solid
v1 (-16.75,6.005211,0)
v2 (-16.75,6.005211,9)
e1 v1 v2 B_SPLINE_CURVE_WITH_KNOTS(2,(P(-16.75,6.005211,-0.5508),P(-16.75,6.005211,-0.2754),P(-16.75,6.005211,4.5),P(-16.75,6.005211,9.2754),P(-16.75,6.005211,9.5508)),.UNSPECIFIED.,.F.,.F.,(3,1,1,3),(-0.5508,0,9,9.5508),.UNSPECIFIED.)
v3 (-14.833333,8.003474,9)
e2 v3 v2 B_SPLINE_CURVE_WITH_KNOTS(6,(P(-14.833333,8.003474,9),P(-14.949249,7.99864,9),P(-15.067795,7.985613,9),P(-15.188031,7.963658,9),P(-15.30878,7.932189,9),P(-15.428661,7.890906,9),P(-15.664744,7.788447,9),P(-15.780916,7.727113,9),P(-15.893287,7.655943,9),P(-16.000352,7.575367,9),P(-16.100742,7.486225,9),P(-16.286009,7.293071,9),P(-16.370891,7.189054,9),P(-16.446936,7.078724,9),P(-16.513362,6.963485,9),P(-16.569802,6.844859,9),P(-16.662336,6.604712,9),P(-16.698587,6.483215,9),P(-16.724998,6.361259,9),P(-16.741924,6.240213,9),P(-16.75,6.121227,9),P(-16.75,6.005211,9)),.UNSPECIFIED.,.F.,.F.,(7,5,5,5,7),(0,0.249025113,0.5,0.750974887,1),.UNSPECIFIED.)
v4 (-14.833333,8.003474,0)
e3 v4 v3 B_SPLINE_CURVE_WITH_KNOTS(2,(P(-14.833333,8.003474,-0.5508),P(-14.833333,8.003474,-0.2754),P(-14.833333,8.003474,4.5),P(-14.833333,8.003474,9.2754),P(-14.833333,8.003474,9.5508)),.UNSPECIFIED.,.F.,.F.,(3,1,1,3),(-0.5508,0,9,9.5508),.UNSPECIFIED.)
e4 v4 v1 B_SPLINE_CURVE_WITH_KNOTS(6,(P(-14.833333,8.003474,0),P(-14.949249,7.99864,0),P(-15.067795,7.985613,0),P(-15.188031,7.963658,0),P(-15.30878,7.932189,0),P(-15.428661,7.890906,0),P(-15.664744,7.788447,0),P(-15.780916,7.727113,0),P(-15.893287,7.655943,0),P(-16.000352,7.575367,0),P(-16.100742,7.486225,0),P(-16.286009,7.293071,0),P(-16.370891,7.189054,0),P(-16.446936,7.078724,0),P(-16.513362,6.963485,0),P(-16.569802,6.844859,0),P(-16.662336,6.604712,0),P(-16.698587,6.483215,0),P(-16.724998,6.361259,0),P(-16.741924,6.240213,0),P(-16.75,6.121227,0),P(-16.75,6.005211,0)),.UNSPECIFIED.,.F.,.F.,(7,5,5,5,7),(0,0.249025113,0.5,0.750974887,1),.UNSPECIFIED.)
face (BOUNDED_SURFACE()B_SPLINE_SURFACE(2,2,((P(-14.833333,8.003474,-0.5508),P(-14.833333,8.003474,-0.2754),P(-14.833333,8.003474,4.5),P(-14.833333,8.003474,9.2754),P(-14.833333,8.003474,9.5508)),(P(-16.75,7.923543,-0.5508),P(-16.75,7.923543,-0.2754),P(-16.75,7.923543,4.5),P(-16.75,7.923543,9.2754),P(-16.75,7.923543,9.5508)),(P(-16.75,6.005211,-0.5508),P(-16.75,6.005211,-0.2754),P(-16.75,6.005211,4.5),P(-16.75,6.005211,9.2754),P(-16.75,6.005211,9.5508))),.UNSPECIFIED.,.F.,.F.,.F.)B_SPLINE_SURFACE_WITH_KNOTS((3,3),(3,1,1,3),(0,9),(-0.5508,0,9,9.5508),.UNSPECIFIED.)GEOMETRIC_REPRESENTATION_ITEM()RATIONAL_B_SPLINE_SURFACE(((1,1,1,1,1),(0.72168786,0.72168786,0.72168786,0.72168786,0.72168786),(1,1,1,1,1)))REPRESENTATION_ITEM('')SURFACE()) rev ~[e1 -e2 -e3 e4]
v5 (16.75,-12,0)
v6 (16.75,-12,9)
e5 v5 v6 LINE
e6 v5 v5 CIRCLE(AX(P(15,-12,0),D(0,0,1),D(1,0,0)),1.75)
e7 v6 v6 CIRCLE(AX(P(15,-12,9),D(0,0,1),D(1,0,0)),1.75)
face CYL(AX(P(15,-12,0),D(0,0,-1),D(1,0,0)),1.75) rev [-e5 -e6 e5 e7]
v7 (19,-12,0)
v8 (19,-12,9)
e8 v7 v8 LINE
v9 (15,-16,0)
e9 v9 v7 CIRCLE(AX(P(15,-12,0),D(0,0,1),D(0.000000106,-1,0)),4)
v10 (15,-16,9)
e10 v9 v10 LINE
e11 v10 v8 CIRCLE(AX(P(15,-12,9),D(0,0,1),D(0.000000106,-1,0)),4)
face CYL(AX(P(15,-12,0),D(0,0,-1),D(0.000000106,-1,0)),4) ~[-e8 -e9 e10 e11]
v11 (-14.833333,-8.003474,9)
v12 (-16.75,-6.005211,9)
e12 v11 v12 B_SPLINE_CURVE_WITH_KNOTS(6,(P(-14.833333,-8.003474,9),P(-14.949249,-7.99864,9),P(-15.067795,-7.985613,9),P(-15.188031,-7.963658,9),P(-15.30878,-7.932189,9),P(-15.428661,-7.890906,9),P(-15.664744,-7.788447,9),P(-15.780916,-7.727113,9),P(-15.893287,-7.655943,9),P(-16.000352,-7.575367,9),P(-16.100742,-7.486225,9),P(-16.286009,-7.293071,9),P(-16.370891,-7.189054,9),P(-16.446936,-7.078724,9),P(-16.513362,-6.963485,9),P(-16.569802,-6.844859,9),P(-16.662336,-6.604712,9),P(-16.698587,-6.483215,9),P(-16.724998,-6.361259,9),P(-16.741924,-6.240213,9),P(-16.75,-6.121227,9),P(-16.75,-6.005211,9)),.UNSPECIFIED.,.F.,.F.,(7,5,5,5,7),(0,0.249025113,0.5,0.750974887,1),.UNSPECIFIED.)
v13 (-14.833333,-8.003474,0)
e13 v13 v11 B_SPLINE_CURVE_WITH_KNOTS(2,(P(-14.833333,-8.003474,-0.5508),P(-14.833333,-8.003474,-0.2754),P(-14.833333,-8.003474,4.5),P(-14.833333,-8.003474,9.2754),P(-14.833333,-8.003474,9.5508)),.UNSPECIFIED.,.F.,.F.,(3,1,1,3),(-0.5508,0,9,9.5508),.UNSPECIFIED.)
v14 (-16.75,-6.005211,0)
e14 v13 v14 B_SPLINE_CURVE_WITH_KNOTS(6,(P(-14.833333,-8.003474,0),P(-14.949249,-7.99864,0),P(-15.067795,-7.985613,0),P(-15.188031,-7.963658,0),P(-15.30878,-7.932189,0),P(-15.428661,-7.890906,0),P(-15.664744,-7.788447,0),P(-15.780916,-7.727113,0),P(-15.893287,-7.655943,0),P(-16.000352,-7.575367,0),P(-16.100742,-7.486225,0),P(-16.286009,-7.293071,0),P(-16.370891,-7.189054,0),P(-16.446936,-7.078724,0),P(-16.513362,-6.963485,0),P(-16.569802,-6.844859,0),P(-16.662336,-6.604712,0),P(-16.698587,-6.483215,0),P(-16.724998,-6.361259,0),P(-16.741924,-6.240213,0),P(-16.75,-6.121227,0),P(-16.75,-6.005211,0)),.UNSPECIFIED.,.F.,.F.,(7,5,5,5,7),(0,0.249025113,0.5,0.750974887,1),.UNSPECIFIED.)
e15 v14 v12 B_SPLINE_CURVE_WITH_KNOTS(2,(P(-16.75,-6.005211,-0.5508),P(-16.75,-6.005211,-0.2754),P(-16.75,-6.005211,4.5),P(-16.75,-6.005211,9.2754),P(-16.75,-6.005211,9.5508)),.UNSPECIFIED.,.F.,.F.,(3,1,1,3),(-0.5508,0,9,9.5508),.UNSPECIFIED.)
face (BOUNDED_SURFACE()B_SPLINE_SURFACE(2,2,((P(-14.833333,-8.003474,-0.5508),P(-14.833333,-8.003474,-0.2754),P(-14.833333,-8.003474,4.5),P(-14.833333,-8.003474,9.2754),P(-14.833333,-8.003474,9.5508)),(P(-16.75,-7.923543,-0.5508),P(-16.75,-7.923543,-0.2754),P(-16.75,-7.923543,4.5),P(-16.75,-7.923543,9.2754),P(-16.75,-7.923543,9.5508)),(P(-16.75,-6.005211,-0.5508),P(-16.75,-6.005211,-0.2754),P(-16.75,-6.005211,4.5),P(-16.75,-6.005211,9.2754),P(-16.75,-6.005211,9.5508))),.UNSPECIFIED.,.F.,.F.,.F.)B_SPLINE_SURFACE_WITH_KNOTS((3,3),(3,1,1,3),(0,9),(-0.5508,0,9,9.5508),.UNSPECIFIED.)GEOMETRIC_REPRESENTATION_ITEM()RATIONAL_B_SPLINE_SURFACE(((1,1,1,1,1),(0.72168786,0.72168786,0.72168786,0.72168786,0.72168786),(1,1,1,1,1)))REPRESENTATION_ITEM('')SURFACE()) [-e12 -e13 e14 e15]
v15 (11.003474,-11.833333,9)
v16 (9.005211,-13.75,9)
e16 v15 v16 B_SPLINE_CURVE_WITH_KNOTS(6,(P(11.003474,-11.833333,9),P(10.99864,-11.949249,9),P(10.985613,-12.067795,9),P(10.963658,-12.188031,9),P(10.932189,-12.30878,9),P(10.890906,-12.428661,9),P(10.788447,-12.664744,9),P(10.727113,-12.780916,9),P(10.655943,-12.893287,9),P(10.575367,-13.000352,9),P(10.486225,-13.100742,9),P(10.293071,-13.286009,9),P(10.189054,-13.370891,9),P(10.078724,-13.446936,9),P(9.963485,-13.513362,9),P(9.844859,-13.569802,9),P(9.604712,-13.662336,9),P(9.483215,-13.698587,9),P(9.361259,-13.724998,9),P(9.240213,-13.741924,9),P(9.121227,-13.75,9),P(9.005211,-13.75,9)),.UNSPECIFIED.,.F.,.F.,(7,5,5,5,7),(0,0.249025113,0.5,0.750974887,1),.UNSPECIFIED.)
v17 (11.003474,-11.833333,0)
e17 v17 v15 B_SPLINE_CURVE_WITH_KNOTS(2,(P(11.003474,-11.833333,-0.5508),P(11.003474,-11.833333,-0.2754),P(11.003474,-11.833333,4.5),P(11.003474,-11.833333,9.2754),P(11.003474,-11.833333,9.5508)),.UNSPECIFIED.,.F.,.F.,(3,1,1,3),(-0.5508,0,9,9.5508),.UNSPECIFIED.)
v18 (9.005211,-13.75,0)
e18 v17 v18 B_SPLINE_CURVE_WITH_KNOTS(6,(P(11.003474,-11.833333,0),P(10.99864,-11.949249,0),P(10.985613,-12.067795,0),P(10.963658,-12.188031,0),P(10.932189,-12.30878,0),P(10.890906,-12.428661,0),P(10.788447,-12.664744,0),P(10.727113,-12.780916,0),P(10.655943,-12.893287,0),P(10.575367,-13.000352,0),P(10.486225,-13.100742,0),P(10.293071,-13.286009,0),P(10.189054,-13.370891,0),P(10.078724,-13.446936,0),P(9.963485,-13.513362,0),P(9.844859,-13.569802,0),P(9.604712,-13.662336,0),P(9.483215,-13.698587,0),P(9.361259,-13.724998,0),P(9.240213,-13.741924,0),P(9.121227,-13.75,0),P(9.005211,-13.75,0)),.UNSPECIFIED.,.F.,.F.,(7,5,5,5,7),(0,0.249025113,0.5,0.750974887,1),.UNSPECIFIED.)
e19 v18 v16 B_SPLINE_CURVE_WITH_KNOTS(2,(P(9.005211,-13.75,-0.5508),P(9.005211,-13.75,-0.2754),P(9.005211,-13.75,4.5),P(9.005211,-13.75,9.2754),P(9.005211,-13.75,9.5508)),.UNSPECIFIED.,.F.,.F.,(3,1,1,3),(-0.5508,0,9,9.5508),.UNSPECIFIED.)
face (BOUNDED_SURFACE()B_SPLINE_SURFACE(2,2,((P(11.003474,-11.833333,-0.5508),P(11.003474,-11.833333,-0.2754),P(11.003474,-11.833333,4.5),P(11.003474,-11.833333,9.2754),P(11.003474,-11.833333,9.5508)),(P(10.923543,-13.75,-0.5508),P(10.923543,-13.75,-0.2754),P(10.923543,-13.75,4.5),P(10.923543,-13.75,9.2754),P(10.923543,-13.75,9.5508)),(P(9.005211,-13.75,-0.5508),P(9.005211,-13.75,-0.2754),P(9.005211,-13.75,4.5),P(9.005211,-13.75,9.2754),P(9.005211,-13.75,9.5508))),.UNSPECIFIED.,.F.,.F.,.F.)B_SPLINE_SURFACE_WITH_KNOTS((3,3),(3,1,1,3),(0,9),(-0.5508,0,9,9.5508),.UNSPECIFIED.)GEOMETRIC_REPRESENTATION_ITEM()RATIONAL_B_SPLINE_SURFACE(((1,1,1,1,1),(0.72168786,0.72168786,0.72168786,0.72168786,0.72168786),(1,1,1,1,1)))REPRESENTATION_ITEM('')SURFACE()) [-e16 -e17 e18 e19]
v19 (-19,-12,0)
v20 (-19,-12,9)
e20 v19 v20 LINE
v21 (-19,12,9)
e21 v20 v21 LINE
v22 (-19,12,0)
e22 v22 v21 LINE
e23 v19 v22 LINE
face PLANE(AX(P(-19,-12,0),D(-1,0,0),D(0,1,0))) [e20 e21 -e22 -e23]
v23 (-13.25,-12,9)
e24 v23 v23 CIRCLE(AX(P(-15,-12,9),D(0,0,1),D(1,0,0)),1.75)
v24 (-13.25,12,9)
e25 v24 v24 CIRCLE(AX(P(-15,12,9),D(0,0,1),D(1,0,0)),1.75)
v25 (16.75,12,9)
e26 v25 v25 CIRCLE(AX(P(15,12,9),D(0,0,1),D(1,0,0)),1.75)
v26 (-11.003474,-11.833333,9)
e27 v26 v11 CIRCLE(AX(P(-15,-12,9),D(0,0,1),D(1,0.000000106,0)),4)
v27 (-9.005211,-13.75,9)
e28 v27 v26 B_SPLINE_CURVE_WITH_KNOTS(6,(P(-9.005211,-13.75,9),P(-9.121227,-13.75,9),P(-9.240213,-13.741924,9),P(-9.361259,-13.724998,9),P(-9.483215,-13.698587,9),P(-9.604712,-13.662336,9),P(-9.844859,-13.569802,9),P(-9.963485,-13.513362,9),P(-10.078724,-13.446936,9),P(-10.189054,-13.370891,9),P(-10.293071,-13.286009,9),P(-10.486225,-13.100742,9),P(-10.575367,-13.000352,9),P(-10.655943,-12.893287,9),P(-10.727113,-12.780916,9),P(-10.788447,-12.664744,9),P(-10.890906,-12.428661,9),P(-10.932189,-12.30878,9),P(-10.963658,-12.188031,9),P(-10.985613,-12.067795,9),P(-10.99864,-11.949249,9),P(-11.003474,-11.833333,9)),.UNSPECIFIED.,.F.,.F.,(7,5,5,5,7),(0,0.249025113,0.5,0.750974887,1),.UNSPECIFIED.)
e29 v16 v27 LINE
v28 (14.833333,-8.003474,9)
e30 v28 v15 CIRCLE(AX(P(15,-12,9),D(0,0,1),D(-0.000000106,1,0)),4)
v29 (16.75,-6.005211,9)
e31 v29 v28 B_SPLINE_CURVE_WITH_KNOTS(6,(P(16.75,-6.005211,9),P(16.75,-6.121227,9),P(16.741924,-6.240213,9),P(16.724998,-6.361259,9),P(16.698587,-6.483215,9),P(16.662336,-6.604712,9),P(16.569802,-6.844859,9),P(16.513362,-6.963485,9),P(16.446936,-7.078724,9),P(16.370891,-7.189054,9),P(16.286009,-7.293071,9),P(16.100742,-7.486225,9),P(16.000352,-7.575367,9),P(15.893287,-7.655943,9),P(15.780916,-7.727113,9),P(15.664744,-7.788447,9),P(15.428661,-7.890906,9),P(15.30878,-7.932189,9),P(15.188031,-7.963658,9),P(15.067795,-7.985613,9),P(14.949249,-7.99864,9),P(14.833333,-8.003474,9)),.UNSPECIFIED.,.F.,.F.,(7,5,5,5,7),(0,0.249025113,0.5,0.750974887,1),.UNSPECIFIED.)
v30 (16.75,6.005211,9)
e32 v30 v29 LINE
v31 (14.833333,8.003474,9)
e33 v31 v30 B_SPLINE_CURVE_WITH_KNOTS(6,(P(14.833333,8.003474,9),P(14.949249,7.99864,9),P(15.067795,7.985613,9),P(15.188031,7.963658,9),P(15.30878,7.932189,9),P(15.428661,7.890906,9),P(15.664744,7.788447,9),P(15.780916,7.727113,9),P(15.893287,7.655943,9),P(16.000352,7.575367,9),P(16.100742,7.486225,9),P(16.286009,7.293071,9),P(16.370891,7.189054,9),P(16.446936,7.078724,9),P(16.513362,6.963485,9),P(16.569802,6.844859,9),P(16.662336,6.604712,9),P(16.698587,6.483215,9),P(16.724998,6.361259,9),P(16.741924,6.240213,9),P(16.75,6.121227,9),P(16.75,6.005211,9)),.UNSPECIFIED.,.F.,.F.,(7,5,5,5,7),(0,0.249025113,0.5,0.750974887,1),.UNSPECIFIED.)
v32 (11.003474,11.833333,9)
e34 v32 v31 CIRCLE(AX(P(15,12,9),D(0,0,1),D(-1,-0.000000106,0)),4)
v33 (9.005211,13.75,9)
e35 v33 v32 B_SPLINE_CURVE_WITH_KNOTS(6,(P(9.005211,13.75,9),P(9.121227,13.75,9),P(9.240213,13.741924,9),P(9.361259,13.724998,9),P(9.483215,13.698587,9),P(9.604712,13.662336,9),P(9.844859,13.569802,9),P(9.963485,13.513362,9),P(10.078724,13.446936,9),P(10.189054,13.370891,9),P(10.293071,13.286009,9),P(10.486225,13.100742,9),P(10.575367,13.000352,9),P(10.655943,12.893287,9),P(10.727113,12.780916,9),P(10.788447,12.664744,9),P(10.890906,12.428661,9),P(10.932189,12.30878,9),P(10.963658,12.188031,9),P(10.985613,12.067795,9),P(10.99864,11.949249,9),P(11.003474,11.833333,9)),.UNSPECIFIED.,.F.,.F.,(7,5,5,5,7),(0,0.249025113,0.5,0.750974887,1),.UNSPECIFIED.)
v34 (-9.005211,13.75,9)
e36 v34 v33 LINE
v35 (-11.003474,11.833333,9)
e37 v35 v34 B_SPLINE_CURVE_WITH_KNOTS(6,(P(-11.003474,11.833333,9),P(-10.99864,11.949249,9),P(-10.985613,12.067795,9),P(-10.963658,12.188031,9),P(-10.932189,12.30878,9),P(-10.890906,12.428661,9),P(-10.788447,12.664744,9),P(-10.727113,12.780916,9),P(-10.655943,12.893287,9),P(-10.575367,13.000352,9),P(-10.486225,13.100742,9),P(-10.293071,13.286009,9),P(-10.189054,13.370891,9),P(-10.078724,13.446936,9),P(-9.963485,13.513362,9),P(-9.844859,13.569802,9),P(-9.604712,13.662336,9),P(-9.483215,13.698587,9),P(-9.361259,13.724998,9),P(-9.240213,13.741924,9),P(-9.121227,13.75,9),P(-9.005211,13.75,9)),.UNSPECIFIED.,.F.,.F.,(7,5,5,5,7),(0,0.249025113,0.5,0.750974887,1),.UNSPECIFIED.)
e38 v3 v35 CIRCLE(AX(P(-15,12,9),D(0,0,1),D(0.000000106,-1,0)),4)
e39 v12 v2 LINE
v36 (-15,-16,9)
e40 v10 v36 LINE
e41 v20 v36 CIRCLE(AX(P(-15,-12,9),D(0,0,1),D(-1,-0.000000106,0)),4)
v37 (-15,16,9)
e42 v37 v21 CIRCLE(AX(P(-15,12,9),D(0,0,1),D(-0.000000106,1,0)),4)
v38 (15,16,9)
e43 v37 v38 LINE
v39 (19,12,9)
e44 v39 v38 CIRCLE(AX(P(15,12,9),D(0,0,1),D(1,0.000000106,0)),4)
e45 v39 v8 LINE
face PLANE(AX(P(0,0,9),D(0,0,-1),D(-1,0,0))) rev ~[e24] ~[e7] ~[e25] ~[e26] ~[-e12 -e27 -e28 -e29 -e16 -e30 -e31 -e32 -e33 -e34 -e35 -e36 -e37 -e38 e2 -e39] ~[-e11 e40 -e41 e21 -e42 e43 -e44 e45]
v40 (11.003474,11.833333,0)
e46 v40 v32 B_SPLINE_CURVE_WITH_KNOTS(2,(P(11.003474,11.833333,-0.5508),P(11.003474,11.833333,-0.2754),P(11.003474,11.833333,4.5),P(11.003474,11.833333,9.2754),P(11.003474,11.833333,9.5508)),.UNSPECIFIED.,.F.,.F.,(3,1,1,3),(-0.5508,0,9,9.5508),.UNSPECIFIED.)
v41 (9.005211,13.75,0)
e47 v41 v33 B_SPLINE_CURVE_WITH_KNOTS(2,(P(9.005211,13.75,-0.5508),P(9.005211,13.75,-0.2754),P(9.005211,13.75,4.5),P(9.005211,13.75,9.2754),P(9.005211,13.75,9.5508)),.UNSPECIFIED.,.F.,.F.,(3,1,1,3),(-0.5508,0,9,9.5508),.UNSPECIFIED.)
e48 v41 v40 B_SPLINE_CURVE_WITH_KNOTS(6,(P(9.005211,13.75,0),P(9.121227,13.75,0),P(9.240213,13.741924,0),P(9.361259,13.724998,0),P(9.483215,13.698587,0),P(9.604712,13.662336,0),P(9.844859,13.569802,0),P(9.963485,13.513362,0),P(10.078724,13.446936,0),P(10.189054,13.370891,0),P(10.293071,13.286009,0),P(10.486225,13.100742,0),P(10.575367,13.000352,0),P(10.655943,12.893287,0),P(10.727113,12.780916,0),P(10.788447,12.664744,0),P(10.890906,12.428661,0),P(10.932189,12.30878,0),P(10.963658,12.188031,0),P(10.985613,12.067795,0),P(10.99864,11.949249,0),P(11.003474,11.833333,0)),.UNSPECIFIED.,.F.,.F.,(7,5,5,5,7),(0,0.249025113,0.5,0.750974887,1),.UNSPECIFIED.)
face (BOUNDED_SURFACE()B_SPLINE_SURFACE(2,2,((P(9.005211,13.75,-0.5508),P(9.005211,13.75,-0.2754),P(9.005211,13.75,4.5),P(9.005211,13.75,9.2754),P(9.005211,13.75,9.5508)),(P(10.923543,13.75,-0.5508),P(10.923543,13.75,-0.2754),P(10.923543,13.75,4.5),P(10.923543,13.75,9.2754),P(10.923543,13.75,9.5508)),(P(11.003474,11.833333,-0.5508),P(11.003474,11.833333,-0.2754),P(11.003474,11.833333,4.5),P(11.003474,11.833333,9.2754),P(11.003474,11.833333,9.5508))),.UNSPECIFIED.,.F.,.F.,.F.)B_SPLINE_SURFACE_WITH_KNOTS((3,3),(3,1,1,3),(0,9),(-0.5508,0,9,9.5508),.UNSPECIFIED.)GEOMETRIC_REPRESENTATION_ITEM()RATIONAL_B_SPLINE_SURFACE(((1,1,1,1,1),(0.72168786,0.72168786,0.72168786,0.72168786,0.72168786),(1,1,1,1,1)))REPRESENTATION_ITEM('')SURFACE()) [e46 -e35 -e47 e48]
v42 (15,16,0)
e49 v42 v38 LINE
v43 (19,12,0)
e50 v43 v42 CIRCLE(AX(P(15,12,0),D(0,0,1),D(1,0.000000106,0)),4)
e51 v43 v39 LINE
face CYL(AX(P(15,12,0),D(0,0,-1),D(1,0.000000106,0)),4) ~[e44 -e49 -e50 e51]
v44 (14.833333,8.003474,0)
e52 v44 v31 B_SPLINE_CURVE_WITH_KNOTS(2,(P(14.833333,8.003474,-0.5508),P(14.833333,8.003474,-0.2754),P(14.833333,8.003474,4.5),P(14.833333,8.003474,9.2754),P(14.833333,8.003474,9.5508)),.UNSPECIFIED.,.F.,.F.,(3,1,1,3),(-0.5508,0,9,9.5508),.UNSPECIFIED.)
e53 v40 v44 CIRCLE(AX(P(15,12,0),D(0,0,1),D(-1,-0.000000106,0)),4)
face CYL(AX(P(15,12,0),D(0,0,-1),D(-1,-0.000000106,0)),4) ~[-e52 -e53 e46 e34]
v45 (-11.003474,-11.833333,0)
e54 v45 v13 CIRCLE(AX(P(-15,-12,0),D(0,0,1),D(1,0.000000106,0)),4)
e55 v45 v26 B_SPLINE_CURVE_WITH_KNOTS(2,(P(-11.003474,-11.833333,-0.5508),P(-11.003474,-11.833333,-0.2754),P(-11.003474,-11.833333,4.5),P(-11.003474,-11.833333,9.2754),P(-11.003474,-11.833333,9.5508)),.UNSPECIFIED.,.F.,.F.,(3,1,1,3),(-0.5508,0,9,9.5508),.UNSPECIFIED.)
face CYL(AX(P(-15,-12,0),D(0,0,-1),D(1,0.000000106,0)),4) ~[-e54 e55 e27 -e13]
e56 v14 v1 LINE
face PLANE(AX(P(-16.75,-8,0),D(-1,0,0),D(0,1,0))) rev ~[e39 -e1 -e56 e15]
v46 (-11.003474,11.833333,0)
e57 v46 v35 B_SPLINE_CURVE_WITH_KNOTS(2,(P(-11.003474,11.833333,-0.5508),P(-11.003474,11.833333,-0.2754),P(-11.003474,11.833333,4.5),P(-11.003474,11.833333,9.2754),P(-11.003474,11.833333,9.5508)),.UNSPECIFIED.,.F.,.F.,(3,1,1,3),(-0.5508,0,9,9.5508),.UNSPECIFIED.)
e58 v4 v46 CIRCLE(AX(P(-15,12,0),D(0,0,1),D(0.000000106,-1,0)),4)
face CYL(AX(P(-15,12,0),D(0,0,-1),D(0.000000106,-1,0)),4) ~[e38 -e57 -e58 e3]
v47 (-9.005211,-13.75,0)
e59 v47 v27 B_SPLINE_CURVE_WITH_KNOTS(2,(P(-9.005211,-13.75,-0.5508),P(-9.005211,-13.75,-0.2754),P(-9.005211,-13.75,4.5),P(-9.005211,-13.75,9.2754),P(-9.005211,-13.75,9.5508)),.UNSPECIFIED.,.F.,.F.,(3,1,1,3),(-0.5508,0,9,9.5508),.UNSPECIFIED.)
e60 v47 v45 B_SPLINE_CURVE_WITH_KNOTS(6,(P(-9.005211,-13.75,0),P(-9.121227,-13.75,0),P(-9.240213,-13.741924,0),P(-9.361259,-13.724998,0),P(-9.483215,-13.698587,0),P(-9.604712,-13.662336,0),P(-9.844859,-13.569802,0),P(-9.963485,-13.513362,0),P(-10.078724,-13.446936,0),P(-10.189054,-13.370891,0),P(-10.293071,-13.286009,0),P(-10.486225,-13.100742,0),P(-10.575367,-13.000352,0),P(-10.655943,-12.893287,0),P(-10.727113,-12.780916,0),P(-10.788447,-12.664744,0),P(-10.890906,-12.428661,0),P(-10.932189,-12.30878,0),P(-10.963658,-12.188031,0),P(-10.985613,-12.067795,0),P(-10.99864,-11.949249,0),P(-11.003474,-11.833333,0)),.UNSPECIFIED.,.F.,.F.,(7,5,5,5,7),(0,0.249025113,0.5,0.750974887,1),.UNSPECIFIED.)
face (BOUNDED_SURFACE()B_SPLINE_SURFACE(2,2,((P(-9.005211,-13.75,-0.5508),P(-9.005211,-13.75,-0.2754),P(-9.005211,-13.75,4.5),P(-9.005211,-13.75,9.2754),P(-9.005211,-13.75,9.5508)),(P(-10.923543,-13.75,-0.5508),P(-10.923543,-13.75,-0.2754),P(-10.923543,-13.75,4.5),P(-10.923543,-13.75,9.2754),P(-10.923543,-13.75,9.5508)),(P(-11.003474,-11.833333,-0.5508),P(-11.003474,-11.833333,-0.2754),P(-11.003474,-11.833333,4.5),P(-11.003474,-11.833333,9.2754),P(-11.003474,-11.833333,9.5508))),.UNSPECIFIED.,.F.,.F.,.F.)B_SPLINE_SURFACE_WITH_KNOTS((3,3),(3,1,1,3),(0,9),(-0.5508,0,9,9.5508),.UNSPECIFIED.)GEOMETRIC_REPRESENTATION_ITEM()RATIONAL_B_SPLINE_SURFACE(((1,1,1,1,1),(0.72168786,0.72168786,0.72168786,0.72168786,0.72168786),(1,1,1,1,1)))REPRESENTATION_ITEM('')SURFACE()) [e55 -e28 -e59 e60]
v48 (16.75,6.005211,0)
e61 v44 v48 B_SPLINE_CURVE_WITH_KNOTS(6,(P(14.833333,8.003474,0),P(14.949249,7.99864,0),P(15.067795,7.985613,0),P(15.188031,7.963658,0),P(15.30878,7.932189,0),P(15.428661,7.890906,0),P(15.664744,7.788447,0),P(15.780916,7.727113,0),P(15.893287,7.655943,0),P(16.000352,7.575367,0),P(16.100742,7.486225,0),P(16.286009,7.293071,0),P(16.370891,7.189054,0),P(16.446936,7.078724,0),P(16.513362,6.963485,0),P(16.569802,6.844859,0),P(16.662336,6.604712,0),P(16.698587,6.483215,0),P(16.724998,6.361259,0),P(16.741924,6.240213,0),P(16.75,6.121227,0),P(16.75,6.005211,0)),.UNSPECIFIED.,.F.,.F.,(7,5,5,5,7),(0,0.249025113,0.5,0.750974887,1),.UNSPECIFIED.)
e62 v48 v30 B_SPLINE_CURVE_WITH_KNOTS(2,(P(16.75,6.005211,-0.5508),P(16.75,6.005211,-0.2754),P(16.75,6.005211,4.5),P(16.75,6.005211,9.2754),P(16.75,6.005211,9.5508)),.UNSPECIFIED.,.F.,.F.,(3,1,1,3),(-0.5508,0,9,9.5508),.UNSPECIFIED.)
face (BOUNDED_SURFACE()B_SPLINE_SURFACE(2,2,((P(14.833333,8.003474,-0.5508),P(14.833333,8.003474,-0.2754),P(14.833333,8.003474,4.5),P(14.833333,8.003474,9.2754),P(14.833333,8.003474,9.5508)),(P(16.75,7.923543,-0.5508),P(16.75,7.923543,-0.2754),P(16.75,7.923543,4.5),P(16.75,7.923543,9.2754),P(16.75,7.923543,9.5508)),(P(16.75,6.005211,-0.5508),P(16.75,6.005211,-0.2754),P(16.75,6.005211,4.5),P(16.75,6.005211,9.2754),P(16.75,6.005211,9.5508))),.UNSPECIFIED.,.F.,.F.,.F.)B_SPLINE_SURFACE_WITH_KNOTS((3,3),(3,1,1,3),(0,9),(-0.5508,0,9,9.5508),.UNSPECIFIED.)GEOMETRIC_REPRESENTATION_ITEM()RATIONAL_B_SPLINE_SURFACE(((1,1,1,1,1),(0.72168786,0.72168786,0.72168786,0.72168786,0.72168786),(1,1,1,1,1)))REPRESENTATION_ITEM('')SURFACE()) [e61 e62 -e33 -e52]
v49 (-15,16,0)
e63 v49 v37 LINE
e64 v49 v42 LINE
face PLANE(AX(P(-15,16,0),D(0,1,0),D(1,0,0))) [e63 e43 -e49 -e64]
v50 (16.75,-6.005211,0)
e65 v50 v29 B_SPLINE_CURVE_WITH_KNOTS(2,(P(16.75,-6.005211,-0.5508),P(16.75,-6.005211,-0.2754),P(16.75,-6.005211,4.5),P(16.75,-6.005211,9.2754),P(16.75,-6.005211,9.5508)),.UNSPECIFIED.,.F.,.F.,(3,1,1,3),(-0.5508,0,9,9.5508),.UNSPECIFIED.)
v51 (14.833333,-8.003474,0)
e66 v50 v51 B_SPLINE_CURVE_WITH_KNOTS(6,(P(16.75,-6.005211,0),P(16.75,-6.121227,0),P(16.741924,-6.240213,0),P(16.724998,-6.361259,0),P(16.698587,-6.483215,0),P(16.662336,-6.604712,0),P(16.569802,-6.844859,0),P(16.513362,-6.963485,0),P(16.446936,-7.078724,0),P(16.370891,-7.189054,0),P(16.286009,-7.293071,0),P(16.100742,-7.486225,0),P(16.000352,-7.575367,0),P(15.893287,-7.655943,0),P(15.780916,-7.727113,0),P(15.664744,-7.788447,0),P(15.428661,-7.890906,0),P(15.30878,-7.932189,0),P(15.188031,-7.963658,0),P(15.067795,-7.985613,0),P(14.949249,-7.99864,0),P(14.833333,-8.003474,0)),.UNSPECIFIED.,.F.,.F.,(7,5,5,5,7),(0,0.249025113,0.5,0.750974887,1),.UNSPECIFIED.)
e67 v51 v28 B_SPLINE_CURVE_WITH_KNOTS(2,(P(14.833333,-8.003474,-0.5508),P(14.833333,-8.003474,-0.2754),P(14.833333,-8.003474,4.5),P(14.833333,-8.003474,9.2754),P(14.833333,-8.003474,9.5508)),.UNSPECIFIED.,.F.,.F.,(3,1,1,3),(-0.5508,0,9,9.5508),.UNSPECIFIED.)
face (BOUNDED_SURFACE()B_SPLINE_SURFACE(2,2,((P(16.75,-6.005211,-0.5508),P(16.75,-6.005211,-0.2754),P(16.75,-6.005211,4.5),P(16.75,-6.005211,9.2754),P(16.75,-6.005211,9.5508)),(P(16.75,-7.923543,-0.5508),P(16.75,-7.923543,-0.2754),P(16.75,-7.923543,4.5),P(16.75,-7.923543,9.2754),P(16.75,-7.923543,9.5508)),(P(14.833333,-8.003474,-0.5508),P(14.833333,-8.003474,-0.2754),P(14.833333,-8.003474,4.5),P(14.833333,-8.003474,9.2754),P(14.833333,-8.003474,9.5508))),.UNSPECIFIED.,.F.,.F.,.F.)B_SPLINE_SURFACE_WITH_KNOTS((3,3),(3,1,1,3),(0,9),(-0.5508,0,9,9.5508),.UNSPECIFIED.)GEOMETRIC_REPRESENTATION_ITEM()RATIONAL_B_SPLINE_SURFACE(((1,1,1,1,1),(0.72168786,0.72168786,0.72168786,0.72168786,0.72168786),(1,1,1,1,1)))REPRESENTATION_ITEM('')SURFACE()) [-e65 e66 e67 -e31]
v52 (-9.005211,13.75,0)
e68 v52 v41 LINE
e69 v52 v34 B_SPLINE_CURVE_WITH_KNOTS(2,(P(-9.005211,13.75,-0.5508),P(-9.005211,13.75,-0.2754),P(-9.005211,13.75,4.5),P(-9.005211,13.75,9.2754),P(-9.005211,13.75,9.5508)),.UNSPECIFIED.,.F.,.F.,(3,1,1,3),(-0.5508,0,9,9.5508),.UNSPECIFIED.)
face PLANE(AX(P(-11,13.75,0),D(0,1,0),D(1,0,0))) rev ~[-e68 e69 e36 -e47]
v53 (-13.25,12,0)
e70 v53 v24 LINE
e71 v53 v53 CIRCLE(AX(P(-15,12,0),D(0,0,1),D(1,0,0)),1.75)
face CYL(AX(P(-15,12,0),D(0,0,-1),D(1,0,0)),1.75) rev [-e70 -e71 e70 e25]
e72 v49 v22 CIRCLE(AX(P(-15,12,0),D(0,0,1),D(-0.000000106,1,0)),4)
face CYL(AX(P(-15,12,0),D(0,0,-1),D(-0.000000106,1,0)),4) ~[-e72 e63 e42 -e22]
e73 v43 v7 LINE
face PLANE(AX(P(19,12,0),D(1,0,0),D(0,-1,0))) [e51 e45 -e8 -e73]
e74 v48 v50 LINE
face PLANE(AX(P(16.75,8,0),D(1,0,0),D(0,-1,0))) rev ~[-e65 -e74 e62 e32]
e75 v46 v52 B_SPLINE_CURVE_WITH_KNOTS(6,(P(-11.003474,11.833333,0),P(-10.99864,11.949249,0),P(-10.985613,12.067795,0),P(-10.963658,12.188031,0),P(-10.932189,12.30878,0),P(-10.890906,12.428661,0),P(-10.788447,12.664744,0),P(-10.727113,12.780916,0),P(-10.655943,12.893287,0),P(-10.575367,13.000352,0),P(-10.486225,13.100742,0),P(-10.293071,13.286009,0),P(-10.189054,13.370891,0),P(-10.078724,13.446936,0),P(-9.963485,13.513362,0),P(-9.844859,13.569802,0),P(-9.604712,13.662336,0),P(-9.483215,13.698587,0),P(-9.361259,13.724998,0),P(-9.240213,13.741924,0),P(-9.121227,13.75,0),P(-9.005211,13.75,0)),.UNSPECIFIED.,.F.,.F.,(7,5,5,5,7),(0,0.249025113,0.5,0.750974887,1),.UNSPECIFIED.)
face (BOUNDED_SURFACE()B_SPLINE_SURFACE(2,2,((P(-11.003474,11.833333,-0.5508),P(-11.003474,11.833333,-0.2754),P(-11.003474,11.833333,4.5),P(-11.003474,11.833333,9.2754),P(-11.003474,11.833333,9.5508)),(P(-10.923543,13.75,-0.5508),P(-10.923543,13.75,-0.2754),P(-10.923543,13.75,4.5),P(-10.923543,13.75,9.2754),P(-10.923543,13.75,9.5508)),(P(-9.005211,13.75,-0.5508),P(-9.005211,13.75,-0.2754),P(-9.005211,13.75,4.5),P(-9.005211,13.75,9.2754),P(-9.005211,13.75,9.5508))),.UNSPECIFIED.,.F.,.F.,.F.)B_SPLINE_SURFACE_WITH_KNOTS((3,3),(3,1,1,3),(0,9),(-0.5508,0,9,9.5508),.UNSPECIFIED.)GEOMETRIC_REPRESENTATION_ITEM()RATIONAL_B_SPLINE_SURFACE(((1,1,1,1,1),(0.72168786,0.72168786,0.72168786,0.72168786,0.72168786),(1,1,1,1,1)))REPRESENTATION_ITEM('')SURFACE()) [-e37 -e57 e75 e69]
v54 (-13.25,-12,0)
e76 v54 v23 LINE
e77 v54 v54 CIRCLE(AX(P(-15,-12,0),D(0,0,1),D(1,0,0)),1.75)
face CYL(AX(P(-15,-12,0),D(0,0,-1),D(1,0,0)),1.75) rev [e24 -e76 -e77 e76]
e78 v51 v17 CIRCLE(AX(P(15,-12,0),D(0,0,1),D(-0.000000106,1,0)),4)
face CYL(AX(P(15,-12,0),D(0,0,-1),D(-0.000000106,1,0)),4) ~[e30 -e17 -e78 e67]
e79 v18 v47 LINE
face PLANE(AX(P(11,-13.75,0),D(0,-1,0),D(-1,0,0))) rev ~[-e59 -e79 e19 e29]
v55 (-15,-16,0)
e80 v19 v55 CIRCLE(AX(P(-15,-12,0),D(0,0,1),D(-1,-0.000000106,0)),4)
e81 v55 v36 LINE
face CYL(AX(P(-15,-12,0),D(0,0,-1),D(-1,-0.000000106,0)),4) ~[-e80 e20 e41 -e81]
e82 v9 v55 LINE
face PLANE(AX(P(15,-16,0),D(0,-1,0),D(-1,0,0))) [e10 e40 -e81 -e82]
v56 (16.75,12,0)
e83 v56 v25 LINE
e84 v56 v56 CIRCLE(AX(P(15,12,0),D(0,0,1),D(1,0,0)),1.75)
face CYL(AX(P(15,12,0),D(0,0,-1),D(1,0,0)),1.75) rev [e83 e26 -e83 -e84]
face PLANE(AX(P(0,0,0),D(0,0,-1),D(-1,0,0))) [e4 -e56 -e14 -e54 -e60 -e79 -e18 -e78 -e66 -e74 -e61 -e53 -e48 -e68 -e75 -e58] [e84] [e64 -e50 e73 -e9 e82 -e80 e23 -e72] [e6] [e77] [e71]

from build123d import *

# Parameters (mm, degrees)
SKETCH_R  = 1.75
PAD_DEPTH = 9
FILLET_R  = 2


with BuildPart() as part:
    # Sketch → Pad (new body)
    with BuildSketch(Plane.XY):
        with BuildLine():
            Line((-15, 16), (15, 16))
            ThreePointArc((19, 12), (17.828427, 14.828427), (15, 16))
            Line((19, 12), (19, -12))
            ThreePointArc((15, -16), (17.828427, -14.828427), (19, -12))
            Line((15, -16), (-15, -16))
            ThreePointArc((-19, -12), (-17.828427, -14.828427), (-15, -16))
            Line((-19, -12), (-19, 12))
            ThreePointArc((-15, 16), (-17.828427, 14.828427), (-19, 12))
        make_face()
        with Locations((-15, 12)):
            Circle(SKETCH_R, mode=Mode.SUBTRACT)
        with Locations((15, 12)):
            Circle(SKETCH_R, mode=Mode.SUBTRACT)
        with Locations((15, -12)):
            Circle(SKETCH_R, mode=Mode.SUBTRACT)
        with Locations((-15, -12)):
            Circle(SKETCH_R, mode=Mode.SUBTRACT)
        with BuildLine():
            Line((-16.75, 8), (-15, 8))
            ThreePointArc((-15, 8), (-12.171573, 9.171573), (-11, 12))
            Line((-11, 12), (-11, 13.75))
            Line((-11, 13.75), (11, 13.75))
            Line((11, 13.75), (11, 12))
            ThreePointArc((11, 12), (12.171573, 9.171573), (15, 8))
            Line((15, 8), (16.75, 8))
            Line((16.75, 8), (16.75, -8))
            Line((15, -8), (16.75, -8))
            ThreePointArc((15, -8), (12.171573, -9.171573), (11, -12))
            Line((11, -13.75), (11, -12))
            Line((11, -13.75), (-11, -13.75))
            Line((-11, -12), (-11, -13.75))
            ThreePointArc((-11, -12), (-12.171573, -9.171573), (-15, -8))
            Line((-16.75, -8), (-15, -8))
            Line((-16.75, -8), (-16.75, 8))
        make_face(mode=Mode.SUBTRACT)
    extrude(amount=PAD_DEPTH)

    # Fillet
    fillet_edges = [part.edges().sort_by_distance(p)[0] for p in [
        (-11, 13.75, 4.5),
        (-16.75, 8, 4.5),
        (11, 13.75, 4.5),
        (16.75, 8, 4.5),
        (16.75, -8, 4.5),
        (11, -13.75, 4.5),
        (-11, -13.75, 4.5),
        (-16.75, -8, 4.5),
    ]]
    fillet(fillet_edges, radius=FILLET_R)


solid = part.part
